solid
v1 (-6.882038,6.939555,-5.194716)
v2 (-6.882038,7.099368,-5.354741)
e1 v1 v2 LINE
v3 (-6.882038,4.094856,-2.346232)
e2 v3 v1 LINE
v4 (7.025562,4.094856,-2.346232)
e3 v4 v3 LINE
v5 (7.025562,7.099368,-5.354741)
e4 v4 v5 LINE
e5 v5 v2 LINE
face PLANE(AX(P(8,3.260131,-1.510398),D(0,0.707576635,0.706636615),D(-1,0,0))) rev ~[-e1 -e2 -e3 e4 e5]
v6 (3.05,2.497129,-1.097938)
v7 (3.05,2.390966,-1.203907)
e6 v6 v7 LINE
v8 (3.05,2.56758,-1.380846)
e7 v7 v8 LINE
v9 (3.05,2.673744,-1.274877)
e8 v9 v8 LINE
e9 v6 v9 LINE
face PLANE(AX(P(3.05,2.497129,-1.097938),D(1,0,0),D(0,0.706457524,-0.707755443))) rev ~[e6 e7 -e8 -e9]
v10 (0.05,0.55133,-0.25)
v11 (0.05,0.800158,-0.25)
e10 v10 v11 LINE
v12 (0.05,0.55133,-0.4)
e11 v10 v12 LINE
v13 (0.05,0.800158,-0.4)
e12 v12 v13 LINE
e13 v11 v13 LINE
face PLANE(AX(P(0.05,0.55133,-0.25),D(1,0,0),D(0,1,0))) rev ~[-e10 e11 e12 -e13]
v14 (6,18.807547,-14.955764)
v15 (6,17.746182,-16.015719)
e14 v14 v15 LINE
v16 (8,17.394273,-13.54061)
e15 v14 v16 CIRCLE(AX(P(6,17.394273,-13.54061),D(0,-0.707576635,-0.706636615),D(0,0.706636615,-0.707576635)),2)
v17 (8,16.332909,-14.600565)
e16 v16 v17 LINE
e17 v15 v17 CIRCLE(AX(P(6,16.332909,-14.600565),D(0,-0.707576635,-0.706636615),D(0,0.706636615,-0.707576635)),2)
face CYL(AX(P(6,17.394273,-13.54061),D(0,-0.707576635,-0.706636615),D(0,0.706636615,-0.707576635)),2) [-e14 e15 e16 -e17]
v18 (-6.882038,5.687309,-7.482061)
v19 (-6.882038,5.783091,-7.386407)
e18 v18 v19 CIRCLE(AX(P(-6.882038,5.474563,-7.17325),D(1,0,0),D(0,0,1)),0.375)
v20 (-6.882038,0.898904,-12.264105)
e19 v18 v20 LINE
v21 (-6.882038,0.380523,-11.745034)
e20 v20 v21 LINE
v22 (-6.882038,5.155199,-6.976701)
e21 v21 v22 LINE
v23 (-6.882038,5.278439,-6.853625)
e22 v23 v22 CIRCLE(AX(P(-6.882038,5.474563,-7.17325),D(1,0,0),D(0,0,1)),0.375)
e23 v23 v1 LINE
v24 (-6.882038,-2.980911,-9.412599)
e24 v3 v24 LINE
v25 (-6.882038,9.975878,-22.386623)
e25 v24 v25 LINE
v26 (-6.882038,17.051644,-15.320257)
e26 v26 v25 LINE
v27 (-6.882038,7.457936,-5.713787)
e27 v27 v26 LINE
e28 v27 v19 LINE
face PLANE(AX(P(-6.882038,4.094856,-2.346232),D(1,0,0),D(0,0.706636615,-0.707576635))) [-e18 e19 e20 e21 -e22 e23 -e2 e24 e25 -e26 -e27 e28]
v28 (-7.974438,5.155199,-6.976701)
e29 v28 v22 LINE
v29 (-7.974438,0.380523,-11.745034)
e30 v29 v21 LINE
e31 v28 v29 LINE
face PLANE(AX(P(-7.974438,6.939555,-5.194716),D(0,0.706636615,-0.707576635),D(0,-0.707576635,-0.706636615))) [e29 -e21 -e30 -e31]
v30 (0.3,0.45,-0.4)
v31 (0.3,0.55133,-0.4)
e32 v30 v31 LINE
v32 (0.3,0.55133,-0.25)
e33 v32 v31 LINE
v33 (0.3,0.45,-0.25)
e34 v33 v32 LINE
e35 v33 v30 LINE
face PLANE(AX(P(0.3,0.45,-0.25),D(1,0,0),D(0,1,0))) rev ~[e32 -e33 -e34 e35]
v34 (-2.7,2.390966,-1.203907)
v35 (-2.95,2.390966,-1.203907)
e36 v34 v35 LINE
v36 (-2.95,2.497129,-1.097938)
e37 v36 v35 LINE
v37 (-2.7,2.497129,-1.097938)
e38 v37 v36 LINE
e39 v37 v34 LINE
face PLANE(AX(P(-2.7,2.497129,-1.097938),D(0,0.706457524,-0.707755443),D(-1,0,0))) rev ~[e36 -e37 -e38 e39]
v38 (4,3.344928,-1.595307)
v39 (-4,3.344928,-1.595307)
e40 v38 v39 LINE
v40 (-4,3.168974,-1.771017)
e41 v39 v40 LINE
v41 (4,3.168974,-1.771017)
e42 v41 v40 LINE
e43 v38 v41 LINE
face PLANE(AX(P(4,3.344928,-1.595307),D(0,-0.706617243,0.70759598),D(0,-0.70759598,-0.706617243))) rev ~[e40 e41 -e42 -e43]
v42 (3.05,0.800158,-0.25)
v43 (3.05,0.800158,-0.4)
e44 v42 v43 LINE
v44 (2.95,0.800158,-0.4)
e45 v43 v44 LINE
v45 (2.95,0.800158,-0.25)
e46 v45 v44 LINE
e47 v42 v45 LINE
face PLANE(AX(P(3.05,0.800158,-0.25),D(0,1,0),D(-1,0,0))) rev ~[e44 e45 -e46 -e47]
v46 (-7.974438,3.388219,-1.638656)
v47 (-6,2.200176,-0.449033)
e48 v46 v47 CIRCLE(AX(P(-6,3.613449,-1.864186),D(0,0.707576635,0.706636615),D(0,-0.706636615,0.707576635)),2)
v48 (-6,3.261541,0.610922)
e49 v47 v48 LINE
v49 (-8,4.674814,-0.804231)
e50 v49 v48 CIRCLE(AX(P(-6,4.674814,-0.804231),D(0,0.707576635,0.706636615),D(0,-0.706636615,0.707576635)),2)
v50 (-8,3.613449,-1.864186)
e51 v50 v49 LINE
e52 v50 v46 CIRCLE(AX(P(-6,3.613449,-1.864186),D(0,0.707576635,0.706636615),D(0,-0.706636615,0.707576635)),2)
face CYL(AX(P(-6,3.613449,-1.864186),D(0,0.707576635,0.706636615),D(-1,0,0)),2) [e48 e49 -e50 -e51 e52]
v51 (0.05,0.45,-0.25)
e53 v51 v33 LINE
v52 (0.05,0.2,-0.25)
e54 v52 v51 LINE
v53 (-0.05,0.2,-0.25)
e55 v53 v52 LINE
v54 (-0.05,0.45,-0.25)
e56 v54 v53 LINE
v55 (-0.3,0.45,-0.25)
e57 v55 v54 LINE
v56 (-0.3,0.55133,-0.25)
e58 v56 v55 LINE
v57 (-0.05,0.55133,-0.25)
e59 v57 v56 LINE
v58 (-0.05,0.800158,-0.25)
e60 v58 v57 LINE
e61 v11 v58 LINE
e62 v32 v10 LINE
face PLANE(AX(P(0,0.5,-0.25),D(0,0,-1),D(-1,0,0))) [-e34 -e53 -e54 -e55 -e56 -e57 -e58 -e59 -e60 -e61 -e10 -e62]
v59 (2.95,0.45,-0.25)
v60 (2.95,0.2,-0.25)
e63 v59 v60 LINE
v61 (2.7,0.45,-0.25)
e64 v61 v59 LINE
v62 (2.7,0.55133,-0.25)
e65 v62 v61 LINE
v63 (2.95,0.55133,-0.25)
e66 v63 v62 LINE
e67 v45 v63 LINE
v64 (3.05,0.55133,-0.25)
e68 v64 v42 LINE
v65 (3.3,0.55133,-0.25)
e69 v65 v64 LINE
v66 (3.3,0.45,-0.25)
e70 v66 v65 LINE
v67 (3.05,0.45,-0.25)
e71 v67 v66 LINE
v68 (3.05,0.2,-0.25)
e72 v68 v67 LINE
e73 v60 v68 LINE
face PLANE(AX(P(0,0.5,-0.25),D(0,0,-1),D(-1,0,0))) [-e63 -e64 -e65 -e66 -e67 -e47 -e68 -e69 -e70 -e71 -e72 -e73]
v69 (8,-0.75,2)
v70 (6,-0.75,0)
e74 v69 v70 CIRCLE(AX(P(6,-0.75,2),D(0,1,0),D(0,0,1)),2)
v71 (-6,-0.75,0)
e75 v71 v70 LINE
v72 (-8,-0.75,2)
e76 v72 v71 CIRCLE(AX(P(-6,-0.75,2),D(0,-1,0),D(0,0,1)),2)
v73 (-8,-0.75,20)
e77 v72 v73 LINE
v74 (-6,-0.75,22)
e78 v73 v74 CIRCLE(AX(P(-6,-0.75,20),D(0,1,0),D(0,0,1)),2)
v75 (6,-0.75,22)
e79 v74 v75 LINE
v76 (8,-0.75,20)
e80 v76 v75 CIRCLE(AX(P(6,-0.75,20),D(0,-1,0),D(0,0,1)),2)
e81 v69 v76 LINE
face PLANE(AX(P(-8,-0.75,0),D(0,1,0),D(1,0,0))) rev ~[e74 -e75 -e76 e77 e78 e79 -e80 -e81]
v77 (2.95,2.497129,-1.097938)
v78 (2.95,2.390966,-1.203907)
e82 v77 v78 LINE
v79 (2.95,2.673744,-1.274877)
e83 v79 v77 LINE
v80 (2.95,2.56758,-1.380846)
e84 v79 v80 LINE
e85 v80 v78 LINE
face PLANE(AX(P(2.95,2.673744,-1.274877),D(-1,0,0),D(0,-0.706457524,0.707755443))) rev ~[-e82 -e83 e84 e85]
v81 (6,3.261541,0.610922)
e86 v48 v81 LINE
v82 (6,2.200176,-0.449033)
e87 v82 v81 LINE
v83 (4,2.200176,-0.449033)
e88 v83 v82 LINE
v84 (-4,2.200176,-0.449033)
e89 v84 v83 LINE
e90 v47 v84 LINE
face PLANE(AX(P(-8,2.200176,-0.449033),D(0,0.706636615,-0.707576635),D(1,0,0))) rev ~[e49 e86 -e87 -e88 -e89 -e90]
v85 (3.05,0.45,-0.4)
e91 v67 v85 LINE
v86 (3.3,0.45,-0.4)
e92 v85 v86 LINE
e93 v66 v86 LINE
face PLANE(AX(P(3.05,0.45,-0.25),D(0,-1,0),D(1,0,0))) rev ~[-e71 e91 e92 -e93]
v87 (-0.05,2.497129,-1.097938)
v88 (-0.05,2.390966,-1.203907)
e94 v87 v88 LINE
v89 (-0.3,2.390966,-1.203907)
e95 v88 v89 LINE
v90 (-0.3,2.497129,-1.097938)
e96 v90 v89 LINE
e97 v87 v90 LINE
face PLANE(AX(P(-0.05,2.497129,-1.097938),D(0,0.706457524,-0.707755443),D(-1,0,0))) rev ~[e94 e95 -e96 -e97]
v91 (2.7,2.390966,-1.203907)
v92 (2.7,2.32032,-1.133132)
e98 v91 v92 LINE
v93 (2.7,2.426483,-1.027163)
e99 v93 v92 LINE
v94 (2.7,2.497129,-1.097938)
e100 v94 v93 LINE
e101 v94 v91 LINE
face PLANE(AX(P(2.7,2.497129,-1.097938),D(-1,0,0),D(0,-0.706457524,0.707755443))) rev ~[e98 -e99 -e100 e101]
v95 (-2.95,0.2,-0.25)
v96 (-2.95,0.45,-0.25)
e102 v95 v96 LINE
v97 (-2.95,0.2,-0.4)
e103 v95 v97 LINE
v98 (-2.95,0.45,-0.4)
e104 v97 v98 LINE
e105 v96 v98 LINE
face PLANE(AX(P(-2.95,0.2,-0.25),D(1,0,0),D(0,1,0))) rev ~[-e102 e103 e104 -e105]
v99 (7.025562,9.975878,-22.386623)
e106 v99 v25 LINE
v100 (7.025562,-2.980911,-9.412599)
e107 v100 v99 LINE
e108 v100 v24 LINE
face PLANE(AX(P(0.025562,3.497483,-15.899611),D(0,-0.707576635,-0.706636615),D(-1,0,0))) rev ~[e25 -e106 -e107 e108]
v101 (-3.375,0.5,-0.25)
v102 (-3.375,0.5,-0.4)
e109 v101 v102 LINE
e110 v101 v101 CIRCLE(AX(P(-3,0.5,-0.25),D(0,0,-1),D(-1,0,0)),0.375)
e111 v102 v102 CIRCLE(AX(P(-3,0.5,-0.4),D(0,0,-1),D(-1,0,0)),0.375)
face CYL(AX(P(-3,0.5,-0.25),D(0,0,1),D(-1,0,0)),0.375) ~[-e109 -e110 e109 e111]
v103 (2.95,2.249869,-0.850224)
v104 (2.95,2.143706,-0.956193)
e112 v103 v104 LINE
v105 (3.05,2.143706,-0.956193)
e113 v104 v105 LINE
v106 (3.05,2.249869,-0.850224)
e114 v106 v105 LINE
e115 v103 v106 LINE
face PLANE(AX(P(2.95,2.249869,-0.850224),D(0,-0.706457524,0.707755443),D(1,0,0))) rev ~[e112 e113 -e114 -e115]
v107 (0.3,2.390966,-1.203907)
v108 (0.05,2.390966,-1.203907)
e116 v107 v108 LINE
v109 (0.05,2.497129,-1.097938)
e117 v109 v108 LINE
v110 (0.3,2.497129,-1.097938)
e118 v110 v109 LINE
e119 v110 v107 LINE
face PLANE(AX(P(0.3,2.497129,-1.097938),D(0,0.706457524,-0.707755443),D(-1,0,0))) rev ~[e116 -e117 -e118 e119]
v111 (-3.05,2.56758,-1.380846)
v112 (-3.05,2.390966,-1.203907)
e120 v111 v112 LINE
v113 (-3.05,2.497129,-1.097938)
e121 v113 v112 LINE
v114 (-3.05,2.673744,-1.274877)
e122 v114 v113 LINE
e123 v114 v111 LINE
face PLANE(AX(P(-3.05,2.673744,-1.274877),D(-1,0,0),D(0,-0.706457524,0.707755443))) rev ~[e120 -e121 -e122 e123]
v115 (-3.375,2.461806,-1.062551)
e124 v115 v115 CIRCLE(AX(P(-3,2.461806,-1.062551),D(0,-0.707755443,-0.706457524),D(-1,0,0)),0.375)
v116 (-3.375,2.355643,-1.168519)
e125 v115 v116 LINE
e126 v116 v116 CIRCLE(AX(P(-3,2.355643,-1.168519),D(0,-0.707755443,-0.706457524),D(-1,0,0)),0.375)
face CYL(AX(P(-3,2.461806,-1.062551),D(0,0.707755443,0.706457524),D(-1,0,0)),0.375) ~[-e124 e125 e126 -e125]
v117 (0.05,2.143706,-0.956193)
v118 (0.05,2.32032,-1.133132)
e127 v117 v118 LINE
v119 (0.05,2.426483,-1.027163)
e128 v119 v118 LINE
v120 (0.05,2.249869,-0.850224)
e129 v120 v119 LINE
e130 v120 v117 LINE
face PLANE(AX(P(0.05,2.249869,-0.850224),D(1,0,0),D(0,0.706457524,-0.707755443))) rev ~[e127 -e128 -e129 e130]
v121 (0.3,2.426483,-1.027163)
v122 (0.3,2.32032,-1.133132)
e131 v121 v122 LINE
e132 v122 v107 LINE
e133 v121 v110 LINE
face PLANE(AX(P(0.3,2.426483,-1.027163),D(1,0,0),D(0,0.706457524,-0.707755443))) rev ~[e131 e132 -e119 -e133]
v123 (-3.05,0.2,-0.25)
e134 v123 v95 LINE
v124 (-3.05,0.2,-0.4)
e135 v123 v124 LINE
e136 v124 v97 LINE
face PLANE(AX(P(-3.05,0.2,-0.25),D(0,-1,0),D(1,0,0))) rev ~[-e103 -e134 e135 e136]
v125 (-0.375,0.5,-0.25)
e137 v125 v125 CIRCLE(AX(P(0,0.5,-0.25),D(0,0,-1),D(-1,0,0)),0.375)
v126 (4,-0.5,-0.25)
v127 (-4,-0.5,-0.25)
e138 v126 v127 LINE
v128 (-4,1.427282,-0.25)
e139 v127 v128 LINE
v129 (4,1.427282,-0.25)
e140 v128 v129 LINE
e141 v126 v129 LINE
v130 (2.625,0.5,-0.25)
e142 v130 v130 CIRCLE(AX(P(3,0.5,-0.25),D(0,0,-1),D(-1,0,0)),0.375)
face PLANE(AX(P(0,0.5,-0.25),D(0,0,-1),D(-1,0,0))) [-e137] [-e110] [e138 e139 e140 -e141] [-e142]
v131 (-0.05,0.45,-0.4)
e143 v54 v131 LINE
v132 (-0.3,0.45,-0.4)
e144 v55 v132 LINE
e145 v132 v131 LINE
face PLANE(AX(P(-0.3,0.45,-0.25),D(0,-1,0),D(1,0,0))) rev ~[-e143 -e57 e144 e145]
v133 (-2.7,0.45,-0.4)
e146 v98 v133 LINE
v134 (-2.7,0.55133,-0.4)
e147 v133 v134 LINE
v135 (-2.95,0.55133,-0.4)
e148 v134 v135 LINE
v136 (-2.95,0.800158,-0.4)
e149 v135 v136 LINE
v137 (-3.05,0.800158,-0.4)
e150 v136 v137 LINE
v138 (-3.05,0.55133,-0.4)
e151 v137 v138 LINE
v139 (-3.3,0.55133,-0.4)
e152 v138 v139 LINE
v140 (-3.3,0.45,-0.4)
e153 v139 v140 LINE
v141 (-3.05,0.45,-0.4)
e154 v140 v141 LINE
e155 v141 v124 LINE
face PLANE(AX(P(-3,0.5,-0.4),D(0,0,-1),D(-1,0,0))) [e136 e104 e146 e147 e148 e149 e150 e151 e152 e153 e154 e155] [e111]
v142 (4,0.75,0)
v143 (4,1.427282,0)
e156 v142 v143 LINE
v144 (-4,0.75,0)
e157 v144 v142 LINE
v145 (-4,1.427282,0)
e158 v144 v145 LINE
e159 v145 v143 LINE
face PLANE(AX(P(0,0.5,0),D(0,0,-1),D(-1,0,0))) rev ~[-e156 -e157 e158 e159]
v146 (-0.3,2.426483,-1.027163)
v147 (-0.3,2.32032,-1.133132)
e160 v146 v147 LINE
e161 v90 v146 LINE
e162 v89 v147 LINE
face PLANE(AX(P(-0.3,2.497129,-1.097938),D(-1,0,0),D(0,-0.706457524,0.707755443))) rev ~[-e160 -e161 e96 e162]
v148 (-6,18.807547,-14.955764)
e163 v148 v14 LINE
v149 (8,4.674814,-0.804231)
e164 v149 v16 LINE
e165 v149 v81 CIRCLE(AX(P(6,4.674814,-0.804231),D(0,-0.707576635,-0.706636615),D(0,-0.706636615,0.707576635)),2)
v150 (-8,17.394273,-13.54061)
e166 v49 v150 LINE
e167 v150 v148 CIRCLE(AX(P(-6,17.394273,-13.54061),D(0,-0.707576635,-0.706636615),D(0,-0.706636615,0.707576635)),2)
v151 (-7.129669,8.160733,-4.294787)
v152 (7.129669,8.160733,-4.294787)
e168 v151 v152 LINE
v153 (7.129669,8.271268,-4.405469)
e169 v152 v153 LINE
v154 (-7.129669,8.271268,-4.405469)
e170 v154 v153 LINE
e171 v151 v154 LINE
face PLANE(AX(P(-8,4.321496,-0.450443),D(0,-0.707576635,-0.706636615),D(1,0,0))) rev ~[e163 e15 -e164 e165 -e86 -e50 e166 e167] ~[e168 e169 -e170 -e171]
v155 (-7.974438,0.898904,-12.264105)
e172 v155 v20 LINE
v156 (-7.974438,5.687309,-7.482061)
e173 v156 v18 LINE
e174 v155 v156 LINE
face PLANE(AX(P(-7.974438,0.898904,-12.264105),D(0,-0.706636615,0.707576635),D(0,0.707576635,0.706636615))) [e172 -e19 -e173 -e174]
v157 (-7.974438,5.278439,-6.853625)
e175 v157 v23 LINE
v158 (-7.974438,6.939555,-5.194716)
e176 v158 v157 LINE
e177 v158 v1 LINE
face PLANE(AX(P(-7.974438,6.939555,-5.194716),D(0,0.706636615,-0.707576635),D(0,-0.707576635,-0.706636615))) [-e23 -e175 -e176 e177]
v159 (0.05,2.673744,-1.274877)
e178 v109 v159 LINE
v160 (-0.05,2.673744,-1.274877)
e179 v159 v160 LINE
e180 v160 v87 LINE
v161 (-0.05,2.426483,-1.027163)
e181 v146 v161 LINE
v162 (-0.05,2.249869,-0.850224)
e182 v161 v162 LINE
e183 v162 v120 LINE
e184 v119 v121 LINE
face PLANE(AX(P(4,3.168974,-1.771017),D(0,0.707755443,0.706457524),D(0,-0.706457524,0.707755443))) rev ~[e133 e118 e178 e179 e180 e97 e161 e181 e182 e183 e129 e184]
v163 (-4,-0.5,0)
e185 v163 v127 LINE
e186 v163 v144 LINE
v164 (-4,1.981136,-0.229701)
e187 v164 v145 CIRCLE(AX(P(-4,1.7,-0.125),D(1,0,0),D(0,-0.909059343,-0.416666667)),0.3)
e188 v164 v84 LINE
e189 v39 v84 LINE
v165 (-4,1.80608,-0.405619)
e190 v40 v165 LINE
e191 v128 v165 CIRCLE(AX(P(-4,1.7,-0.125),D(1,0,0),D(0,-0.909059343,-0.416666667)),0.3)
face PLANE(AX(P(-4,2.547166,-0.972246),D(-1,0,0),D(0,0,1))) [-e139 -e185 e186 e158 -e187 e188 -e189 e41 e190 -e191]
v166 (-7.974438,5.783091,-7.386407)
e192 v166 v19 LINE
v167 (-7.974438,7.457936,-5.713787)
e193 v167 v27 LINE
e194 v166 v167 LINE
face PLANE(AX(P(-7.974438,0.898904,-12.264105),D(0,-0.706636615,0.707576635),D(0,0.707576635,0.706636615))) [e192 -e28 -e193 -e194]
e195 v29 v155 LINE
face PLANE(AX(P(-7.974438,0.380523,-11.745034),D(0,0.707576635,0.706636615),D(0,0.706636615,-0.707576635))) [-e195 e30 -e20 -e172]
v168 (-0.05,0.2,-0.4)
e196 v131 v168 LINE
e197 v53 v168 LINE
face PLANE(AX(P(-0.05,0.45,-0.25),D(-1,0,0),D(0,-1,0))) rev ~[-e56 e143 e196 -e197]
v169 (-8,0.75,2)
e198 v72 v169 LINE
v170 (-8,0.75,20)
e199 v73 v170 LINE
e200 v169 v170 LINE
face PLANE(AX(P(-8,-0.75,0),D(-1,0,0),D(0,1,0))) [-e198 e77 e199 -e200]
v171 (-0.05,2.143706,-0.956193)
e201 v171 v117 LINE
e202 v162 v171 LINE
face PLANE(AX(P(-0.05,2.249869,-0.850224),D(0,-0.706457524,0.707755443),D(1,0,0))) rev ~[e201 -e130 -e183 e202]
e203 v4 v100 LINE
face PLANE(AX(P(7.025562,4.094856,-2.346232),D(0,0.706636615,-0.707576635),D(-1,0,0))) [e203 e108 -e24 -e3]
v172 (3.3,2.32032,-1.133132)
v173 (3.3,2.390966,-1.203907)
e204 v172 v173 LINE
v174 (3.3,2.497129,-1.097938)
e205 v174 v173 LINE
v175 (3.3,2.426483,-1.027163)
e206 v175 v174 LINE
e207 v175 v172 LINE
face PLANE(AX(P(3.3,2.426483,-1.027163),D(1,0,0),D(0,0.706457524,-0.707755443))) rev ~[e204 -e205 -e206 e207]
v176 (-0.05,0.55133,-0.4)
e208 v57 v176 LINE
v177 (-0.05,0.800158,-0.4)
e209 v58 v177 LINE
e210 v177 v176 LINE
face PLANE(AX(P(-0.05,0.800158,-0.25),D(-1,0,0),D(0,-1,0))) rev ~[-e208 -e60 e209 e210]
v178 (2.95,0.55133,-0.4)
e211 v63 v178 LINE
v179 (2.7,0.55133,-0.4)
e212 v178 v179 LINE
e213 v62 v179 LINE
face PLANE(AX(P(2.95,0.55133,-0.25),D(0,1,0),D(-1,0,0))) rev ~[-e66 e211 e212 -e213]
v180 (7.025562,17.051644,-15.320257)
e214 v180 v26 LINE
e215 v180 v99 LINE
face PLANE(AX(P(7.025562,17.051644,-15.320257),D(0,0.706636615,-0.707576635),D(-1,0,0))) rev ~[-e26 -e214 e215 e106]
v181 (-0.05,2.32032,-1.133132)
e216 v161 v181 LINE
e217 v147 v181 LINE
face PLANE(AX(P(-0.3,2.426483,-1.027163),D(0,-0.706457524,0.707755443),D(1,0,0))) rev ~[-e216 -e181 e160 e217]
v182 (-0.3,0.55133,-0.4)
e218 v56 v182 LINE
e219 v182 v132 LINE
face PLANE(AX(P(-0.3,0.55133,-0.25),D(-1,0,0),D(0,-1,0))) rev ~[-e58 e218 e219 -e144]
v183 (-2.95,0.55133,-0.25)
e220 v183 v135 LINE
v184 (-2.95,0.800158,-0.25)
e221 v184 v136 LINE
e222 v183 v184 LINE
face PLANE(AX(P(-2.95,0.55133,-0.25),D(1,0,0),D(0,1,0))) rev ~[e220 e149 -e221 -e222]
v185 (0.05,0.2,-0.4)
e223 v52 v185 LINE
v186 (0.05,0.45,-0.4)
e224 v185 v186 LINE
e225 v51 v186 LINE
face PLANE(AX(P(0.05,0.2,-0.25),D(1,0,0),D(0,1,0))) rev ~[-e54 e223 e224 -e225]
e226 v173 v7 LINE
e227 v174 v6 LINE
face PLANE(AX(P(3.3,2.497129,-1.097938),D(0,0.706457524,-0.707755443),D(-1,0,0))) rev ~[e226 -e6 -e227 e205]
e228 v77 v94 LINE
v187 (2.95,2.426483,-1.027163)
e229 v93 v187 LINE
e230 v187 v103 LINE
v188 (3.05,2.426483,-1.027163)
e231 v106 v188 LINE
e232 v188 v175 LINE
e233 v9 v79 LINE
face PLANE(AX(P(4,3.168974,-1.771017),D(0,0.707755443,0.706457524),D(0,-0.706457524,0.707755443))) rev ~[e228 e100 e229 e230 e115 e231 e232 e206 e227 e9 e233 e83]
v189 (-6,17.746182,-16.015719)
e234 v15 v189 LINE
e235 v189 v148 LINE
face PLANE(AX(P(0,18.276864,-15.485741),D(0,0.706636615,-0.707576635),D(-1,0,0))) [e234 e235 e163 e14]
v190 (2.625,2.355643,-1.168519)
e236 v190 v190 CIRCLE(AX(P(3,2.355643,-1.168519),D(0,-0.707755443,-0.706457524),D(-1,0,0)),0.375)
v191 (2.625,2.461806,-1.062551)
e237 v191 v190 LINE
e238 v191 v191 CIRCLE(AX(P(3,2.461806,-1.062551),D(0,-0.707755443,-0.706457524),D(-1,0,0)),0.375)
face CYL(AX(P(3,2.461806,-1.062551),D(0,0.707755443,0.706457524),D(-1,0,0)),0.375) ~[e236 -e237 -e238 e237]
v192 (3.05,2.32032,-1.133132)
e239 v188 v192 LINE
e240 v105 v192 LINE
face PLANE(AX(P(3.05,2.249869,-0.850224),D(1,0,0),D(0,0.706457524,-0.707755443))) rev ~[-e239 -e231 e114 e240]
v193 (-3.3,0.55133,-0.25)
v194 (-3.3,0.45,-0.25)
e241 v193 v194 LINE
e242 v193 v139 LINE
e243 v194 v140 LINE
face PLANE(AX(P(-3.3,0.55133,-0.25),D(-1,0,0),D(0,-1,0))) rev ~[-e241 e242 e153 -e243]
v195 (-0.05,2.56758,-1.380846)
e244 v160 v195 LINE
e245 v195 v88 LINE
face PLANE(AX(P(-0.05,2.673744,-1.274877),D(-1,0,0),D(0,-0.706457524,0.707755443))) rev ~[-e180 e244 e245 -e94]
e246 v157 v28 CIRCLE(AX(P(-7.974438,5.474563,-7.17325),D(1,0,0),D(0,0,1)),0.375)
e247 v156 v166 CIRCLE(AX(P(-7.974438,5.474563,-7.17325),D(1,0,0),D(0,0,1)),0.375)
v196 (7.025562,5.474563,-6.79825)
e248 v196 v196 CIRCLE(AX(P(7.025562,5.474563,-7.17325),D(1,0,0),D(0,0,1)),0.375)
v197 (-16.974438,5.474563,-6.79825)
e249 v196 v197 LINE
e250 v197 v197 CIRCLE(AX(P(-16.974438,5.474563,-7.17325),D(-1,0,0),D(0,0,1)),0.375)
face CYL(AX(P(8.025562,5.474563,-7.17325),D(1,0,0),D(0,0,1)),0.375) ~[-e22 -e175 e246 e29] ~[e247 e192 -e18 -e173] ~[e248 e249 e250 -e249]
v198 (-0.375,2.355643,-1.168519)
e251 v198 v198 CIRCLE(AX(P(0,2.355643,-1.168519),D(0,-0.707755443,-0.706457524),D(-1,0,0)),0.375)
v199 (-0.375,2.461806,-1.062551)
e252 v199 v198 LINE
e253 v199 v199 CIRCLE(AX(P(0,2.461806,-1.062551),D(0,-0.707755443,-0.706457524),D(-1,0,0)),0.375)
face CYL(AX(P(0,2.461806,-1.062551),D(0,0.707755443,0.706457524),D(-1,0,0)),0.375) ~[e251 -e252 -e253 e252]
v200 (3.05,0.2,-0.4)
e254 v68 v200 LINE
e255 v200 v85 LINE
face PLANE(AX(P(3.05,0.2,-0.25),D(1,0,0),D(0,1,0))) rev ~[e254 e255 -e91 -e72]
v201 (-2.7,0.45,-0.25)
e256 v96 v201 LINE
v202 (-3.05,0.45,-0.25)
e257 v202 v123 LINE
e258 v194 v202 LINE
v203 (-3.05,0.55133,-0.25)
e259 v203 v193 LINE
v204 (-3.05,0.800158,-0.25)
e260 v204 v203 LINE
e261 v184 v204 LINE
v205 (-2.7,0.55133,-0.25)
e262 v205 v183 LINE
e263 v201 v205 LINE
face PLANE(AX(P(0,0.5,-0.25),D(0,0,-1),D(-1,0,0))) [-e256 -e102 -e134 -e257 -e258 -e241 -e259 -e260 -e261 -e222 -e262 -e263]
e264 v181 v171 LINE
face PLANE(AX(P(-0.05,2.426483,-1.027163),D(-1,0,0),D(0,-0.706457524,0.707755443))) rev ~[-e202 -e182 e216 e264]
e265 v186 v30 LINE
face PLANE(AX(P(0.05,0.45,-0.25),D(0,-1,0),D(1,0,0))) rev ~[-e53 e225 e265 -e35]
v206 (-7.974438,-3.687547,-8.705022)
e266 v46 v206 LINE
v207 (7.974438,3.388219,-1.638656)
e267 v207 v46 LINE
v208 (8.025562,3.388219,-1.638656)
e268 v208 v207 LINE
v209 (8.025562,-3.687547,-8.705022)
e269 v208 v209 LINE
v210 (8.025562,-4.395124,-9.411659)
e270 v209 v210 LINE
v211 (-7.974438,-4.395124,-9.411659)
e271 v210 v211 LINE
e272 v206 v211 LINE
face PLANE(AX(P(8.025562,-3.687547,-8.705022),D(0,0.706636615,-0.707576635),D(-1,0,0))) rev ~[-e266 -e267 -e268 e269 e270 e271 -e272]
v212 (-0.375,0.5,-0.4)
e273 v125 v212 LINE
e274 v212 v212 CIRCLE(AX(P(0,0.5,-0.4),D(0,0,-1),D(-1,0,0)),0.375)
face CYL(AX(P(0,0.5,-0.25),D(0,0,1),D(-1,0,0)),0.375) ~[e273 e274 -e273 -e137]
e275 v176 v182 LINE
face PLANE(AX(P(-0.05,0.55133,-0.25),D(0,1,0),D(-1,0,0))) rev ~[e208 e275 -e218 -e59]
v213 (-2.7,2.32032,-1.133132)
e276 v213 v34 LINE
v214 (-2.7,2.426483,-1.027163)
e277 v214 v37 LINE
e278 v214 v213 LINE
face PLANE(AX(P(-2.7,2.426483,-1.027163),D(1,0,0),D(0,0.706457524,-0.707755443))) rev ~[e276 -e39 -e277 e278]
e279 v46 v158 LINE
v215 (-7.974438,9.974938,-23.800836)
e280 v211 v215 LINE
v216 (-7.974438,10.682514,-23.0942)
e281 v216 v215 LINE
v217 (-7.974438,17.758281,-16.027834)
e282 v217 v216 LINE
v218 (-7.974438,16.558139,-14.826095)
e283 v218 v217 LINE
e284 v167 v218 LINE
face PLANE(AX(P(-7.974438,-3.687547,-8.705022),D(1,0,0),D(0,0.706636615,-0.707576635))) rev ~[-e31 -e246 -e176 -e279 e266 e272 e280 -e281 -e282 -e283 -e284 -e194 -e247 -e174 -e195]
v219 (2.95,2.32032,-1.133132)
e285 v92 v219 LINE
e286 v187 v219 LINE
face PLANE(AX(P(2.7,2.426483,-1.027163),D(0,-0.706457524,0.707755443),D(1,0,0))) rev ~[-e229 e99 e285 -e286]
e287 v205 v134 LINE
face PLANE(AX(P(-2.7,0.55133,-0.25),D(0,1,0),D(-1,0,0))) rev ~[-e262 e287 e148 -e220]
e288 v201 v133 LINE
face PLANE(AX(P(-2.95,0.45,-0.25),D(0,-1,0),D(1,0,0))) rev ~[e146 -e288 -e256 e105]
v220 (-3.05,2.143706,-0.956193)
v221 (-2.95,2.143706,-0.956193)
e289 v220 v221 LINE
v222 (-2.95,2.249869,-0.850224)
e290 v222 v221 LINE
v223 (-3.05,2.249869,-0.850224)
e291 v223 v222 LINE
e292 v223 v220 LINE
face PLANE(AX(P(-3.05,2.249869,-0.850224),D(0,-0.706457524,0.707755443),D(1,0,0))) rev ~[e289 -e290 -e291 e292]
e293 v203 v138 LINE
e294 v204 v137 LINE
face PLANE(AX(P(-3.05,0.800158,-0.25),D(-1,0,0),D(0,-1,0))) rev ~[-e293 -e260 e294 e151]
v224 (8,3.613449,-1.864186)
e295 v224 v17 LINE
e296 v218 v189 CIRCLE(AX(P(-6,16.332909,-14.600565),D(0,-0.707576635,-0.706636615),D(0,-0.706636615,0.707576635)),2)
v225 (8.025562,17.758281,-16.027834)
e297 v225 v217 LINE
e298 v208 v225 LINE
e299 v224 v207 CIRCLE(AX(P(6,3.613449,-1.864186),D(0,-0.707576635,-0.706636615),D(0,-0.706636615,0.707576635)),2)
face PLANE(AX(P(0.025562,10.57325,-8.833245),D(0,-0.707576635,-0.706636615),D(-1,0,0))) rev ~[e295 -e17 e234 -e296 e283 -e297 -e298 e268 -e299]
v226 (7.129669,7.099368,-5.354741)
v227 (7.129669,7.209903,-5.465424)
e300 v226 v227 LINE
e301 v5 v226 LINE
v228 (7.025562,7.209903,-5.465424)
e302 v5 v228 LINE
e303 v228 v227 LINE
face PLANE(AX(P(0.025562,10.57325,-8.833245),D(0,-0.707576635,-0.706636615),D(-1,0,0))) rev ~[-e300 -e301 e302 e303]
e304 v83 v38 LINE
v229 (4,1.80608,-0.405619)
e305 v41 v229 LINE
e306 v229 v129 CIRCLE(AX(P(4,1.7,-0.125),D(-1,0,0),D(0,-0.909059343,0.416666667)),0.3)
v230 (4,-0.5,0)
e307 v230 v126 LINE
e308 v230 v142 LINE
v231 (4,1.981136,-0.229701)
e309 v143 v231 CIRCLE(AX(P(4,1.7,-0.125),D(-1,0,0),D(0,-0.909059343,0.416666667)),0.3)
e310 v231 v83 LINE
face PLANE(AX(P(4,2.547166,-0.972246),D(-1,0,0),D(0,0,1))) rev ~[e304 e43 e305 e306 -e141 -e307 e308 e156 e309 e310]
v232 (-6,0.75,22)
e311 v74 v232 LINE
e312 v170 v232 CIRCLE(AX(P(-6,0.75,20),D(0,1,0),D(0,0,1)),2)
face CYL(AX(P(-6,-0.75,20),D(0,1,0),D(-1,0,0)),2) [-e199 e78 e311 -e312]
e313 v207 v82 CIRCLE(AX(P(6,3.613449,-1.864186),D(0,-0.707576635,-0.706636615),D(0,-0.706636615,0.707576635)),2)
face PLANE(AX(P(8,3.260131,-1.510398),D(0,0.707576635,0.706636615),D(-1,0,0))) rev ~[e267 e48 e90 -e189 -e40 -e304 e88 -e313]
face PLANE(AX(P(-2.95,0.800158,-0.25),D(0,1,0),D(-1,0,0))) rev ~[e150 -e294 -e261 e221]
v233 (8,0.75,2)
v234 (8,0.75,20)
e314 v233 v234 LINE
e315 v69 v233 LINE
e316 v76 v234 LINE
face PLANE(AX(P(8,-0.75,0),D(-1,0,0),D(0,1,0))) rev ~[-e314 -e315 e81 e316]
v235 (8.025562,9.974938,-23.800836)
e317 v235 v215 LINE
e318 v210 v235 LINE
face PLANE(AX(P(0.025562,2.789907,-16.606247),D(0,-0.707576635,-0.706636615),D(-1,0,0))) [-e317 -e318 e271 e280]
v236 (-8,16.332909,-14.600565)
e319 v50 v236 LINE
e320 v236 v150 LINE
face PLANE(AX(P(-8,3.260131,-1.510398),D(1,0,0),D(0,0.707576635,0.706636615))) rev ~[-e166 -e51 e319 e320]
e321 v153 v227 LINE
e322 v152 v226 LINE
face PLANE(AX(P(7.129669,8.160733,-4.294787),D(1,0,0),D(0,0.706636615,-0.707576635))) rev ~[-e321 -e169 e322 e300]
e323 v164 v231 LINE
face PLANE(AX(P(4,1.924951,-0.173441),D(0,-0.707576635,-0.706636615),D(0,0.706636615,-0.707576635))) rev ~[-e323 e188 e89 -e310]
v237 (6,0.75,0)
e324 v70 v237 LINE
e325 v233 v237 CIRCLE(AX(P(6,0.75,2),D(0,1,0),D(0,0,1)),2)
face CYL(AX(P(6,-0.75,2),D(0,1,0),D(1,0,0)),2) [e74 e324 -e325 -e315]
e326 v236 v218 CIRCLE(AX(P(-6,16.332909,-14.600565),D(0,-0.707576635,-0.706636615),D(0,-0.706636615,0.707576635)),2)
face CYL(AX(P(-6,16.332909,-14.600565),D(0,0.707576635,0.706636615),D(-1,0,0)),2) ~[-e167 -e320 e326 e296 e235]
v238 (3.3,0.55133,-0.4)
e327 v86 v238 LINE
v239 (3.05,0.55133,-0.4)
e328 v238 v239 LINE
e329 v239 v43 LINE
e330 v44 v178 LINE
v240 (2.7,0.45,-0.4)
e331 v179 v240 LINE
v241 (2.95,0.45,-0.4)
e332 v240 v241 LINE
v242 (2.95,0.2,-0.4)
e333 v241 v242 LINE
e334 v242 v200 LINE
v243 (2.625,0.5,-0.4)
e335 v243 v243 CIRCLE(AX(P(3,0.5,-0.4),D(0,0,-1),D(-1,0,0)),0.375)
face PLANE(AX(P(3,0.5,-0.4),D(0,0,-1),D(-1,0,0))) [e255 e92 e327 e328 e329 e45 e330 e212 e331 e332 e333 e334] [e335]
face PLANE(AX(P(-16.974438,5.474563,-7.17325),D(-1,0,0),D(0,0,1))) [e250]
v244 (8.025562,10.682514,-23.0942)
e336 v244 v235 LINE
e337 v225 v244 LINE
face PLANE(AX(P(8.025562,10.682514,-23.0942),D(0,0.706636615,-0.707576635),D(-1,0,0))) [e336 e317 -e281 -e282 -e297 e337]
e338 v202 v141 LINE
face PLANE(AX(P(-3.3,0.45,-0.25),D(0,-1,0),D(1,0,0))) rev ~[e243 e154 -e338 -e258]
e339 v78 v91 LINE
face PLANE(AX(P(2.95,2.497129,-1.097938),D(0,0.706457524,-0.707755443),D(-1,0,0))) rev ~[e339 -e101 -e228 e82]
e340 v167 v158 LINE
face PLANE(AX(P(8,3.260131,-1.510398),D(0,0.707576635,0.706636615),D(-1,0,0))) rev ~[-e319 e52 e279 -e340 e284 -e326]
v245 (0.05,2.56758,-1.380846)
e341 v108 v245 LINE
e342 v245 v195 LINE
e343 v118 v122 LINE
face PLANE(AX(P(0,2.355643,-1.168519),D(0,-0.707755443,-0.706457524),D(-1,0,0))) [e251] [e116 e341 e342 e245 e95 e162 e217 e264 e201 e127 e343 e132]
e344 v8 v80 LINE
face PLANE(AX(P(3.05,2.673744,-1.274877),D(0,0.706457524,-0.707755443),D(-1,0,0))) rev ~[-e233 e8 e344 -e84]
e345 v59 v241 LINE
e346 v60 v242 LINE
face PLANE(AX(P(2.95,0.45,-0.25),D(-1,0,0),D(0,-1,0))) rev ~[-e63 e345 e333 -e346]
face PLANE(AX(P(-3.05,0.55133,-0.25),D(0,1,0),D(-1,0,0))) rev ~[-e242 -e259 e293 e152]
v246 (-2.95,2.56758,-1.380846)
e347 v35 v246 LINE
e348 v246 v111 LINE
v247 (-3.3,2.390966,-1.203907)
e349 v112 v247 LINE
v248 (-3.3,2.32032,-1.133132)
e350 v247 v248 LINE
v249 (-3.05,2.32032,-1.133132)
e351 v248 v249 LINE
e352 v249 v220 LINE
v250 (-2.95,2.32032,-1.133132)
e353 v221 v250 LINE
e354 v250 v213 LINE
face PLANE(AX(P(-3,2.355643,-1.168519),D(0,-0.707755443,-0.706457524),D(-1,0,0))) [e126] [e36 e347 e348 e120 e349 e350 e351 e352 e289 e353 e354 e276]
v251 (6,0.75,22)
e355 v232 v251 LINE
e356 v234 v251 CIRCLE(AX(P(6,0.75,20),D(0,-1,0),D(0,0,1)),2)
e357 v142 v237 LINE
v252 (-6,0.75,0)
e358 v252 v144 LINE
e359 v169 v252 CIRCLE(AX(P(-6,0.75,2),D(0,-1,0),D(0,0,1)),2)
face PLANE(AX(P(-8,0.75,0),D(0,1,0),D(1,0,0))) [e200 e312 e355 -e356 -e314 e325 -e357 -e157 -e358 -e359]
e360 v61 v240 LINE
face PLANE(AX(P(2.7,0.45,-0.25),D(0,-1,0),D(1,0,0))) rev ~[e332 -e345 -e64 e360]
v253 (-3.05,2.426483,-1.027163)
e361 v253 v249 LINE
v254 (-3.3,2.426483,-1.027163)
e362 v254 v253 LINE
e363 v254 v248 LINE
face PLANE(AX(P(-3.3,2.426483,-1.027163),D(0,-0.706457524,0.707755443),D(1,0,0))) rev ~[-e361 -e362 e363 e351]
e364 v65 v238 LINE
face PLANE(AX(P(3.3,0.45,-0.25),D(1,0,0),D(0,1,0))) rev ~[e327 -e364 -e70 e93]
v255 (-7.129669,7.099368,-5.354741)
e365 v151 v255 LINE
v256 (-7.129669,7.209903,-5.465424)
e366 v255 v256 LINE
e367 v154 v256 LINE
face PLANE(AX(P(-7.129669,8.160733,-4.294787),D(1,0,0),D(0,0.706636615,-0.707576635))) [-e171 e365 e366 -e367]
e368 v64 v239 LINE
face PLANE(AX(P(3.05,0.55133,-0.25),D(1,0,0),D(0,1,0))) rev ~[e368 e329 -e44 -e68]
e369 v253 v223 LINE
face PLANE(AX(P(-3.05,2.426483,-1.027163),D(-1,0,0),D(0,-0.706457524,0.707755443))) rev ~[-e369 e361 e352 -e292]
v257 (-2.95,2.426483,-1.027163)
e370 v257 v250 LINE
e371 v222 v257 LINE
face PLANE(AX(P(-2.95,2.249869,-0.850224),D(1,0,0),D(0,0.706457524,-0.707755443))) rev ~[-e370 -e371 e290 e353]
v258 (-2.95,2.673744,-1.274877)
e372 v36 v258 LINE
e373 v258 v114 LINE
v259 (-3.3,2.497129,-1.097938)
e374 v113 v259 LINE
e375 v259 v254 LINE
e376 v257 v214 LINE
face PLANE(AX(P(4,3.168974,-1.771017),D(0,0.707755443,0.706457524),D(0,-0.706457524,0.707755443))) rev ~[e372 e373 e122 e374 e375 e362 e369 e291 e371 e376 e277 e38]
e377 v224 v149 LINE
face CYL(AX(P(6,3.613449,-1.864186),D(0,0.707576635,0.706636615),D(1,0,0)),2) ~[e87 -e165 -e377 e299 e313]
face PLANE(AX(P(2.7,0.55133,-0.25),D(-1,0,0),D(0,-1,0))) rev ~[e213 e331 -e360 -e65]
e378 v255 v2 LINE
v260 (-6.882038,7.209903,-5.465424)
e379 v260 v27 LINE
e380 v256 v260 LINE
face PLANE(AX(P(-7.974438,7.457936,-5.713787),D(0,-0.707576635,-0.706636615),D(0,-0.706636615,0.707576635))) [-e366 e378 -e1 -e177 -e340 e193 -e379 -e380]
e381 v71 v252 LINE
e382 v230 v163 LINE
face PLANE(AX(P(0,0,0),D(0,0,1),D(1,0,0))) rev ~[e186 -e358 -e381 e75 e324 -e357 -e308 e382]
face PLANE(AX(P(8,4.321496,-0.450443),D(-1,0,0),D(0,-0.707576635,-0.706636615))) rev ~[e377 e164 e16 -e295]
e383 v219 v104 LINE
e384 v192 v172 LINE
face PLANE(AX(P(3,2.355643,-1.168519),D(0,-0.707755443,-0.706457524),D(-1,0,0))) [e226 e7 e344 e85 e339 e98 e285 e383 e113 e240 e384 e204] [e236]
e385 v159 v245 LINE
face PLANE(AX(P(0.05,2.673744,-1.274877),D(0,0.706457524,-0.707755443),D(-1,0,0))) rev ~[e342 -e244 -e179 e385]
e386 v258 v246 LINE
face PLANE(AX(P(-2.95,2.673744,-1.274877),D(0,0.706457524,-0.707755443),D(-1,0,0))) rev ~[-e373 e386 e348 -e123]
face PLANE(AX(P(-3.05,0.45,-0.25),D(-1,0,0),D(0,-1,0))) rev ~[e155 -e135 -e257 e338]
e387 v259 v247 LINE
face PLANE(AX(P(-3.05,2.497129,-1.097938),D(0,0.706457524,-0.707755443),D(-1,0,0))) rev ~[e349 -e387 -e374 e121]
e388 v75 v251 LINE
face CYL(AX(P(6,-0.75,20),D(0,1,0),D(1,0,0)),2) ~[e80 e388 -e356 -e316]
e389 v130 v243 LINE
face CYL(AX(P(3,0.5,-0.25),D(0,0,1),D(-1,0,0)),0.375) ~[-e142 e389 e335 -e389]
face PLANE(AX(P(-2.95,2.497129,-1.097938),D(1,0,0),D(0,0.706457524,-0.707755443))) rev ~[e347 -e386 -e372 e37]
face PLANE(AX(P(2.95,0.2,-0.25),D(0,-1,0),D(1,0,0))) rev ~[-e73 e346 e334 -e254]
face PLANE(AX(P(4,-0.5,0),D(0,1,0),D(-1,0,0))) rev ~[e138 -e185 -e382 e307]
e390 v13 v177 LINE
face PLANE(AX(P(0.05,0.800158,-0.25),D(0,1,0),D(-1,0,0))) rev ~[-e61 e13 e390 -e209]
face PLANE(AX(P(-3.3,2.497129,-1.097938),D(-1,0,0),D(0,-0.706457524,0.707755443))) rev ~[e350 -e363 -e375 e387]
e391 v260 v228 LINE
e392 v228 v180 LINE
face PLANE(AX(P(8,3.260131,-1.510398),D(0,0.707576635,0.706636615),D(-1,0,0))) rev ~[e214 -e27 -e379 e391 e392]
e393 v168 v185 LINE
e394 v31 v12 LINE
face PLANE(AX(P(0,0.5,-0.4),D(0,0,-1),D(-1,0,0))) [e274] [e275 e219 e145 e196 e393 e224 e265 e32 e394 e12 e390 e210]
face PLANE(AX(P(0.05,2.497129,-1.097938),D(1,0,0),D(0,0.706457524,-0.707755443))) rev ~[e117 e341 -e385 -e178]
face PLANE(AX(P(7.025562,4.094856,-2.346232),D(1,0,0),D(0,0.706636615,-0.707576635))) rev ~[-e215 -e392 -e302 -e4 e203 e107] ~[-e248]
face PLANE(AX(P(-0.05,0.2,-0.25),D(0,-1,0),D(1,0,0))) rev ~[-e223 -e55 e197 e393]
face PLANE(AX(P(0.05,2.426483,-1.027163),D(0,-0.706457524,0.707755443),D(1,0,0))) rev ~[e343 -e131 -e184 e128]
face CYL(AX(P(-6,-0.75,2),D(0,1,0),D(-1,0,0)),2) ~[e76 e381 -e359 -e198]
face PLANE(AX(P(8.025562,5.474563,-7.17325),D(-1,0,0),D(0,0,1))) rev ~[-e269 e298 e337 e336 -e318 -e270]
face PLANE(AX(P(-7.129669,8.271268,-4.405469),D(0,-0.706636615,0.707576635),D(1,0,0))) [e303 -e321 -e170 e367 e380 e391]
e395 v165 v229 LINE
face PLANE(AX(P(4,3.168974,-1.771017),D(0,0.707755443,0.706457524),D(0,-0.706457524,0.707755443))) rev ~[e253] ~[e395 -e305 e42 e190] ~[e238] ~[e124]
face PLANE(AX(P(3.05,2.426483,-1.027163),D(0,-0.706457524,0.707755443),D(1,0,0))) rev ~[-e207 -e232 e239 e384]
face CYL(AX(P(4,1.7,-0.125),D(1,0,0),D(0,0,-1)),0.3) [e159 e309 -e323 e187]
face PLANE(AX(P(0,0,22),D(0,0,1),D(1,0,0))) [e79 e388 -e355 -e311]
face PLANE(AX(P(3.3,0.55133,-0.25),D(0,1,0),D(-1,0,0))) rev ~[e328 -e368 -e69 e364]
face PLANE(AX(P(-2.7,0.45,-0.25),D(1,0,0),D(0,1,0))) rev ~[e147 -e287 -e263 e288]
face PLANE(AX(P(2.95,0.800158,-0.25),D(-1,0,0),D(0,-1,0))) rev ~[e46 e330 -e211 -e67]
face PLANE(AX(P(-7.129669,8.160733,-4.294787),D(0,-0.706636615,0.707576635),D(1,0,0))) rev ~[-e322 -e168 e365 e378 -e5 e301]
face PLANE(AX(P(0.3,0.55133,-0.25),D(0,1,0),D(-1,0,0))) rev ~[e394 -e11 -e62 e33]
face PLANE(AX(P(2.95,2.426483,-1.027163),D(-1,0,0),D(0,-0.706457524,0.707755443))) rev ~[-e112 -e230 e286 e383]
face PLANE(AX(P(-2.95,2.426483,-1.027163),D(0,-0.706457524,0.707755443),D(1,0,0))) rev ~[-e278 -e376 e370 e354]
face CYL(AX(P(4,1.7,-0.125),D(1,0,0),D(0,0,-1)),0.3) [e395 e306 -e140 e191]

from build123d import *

# Parameters (mm, degrees)
SKETCH1_W            = 16
SKETCH1_H            = 1.5
BOSS_EXTRUDE1_DEPTH  = 22
FILLET1_R            = 2
SKETCH2_W            = 8
SKETCH2_H            = 2
BOSS_EXTRUDE2_DEPTH  = 0.25
SKETCH3_R            = 0.375
BOSS_EXTRUDE3_DEPTH  = 0.15
SKETCH4_R            = 0.3
BOSS_EXTRUDE4_DEPTH  = 8
BOSS_EXTRUDE5_DEPTH  = 8
SKETCH6_R            = 0.375
BOSS_EXTRUDE6_DEPTH  = 0.15
SKETCH7_W            = 16
SKETCH7_H            = 1.5
BOSS_EXTRUDE7_DEPTH  = 1.5
BOSS_EXTRUDE8_DEPTH  = 20.5
FILLET2_R            = 2
SKETCH9_W            = 14.259338364
SKETCH9_H            = 0.156424717
CUT_EXTRUDE1_DEPTH   = 20.5
SKETCH10_W           = 16
SKETCH10_H           = 20.335857824
SKETCH10_W_2         = 13.907599839
SKETCH10_H_2         = 18.335857824
BOSS_EXTRUDE9_DEPTH  = 10
SKETCH11_W           = 16
SKETCH11_H           = 20.335857824
BOSS_EXTRUDE10_DEPTH = 1
CUT_EXTRUDE2_DEPTH   = 11
SKETCH13_R           = 0.375
BOSS_EXTRUDE11_DEPTH = 25


with BuildPart() as part:
    # Sketch1 → Boss-Extrude1 (new body)
    with BuildSketch(Plane.XY):
        Rectangle(SKETCH1_W, SKETCH1_H)
    extrude(amount=BOSS_EXTRUDE1_DEPTH)

    # Fillet1
    fillet1_edges = [part.edges().sort_by_distance(p)[0] for p in [
        (-8, 0, 22),
        (8, 0, 22),
        (-8, 0, 0),
        (8, 0, 0),
    ]]
    fillet(fillet1_edges, radius=FILLET1_R)

    # Sketch2 → Boss-Extrude2 (add)
    with BuildSketch(Plane(origin=(0, 0, 0), x_dir=(-1, 0, 0), z_dir=(0, 0, -1))):
        with Locations((0, 0.5)):
            Rectangle(SKETCH2_W, SKETCH2_H)
    extrude(amount=BOSS_EXTRUDE2_DEPTH)

    # Sketch3 → Boss-Extrude3 (add)
    with BuildSketch(Plane(origin=(0, 0, -0.25), x_dir=(-1, 0, 0), z_dir=(0, 0, -1))):
        with Locations((-3, 0.5)):
            Circle(SKETCH3_R)
        Polygon((-3.05, 0.551330007), (-3.05, 0.800158256), (-2.95, 0.800158256), (-2.95, 0.551330007), (-2.7, 0.551330007), (-2.7, 0.45), (-2.95, 0.45), (-2.95, 0.2), (-3.05, 0.2), (-3.05, 0.45), (-3.3, 0.45), (-3.3, 0.551330007), align=None, mode=Mode.SUBTRACT)
        with Locations((0, 0.5)):
            Circle(SKETCH3_R)
        Polygon((-0.05, 0.2), (-0.05, 0.45), (-0.3, 0.45), (-0.3, 0.551330007), (-0.05, 0.551330007), (-0.05, 0.800158256), (0.05, 0.800158256), (0.05, 0.551330007), (0.3, 0.551330007), (0.3, 0.45), (0.05, 0.45), (0.05, 0.2), align=None, mode=Mode.SUBTRACT)
        with Locations((3, 0.5)):
            Circle(SKETCH3_R)
        Polygon((2.95, 0.2), (2.95, 0.45), (2.7, 0.45), (2.7, 0.551330007), (2.95, 0.551330007), (2.95, 0.800158256), (3.05, 0.800158256), (3.05, 0.551330007), (3.3, 0.551330007), (3.3, 0.45), (3.05, 0.45), (3.05, 0.2), align=None, mode=Mode.SUBTRACT)
    extrude(amount=BOSS_EXTRUDE3_DEPTH)

    # Sketch4 → Boss-Extrude4 (add)
    with BuildSketch(Plane(origin=(4, 0, 0), x_dir=(0, 0, -1), z_dir=(1, 0, 0))):
        with Locations((0.125, 1.7)):
            Circle(SKETCH4_R)
    extrude(amount=-BOSS_EXTRUDE4_DEPTH)

    # Sketch5 → Boss-Extrude5 (add)
    with BuildSketch(Plane(origin=(4, 0, 0), x_dir=(0, 0, -1), z_dir=(1, 0, 0))):
        Polygon((1.595306779, 3.344927555), (1.771017264, 3.168973693), (0.348913537, 1.749477894), (0.173440849, 1.924950583), align=None)
    extrude(amount=-BOSS_EXTRUDE5_DEPTH)

    # Sketch6 → Boss-Extrude6 (add)
    with BuildSketch(Plane(origin=(0, 0.701888086, 0.700600926), x_dir=(-1, 0, 0), z_dir=(0, -0.707755443, -0.706457524))):
        with Locations((3, 2.491187613)):
            Circle(SKETCH6_R)
        Polygon((2.95, 2.541187613), (2.95, 2.791187613), (3.05, 2.791187613), (3.05, 2.541187613), (3.3, 2.541187613), (3.3, 2.441187613), (3.05, 2.441187613), (3.05, 2.191187613), (2.95, 2.191187613), (2.95, 2.441187613), (2.7, 2.441187613), (2.7, 2.541187613), align=None, mode=Mode.SUBTRACT)
        with Locations((0, 2.491187613)):
            Circle(SKETCH6_R)
        Polygon((0.05, 2.441187613), (0.05, 2.191187613), (-0.05, 2.191187613), (-0.05, 2.441187613), (-0.3, 2.441187613), (-0.3, 2.541187613), (-0.05, 2.541187613), (-0.05, 2.791187613), (0.05, 2.791187613), (0.05, 2.541187613), (0.3, 2.541187613), (0.3, 2.441187613), align=None, mode=Mode.SUBTRACT)
        with Locations((-3, 2.491187613)):
            Circle(SKETCH6_R)
        Polygon((-2.95, 2.441187613), (-2.95, 2.191187613), (-3.05, 2.191187613), (-3.05, 2.441187613), (-3.3, 2.441187613), (-3.3, 2.541187613), (-3.05, 2.541187613), (-3.05, 2.791187613), (-2.95, 2.791187613), (-2.95, 2.541187613), (-2.7, 2.541187613), (-2.7, 2.441187613), align=None, mode=Mode.SUBTRACT)
    extrude(amount=BOSS_EXTRUDE6_DEPTH)

    # Sketch7 → Boss-Extrude7 (add)
    with BuildSketch(Plane(origin=(0, 0.877034448, 0.875869302), x_dir=(1, 0, 0), z_dir=(0, 0.707576635, 0.706636615))):
        with Locations((0, 2.622450086)):
            Rectangle(SKETCH7_W, SKETCH7_H)
    extrude(amount=BOSS_EXTRUDE7_DEPTH)

    # Sketch8 → Boss-Extrude8 (add)
    with BuildSketch(Plane(origin=(0, 2.383096713, -2.386266884), x_dir=(-1, 0, 0), z_dir=(0, 0.706636615, -0.707576635))):
        Polygon((-8, 1.239490402), (-4, 1.239490402), (4, 1.239490402), (8, 1.239490402), (8, 2.739490402), (-8, 2.739490402), align=None)
    extrude(amount=BOSS_EXTRUDE8_DEPTH)

    # Fillet2
    fillet2_edges = [part.edges().sort_by_distance(p)[0] for p in [
        (8, 2.730858715, 0.080944831),
        (-8, 2.730858715, 0.080944831),
        (8, 18.276864241, -15.485741141),
        (-8, 18.276864241, -15.485741141),
    ]]
    fillet(fillet2_edges, radius=FILLET2_R)

    # Sketch9 → Cut-Extrude1 (cut)
    with BuildSketch(Plane(origin=(0, 1.938399401, 1.935824224), x_dir=(1, 0, 0), z_dir=(0, 0.707576635, 0.706636615))):
        with Locations((0, 8.883775495)):
            Rectangle(SKETCH9_W, SKETCH9_H)
    extrude(amount=-CUT_EXTRUDE1_DEPTH, mode=Mode.SUBTRACT)

    # Sketch10 → Boss-Extrude9 (add)
    with BuildSketch(Plane(origin=(0, 0.877034448, 0.875869302), x_dir=(-1, 0, 0), z_dir=(0, -0.707576635, -0.706636615))):
        with Locations((-0.025561506, 13.721643007)):
            Rectangle(SKETCH10_W, SKETCH10_H)
        with Locations((-0.071761587, 13.721643007)):
            Rectangle(SKETCH10_W_2, SKETCH10_H_2, mode=Mode.SUBTRACT)
    extrude(amount=BOSS_EXTRUDE9_DEPTH)

    # Sketch11 → Boss-Extrude10 (add)
    with BuildSketch(Plane(origin=(0, -6.198731903, -6.190496846), x_dir=(-1, 0, 0), z_dir=(0, -0.707576635, -0.706636615))):
        with Locations((-0.025561506, 13.721643007)):
            Rectangle(SKETCH11_W, SKETCH11_H)
    extrude(amount=BOSS_EXTRUDE10_DEPTH)

    # Sketch12 → Cut-Extrude2 (cut)
    with BuildSketch(Plane.ZY.offset(7.974438494)):
        Polygon((-5.194715869, 6.939554806), (-11.745034119, 0.380522838), (-12.264104898, 0.898904028), (-5.713786648, 7.457935996), align=None)
    extrude(amount=-CUT_EXTRUDE2_DEPTH, mode=Mode.SUBTRACT)

    # Sketch13 → Boss-Extrude11 (add)
    with BuildSketch(Plane.ZY.offset(-8.025561506)):
        with Locations((-7.173250291, 5.474563224)):
            Circle(SKETCH13_R)
    extrude(amount=BOSS_EXTRUDE11_DEPTH)


solid = part.part
